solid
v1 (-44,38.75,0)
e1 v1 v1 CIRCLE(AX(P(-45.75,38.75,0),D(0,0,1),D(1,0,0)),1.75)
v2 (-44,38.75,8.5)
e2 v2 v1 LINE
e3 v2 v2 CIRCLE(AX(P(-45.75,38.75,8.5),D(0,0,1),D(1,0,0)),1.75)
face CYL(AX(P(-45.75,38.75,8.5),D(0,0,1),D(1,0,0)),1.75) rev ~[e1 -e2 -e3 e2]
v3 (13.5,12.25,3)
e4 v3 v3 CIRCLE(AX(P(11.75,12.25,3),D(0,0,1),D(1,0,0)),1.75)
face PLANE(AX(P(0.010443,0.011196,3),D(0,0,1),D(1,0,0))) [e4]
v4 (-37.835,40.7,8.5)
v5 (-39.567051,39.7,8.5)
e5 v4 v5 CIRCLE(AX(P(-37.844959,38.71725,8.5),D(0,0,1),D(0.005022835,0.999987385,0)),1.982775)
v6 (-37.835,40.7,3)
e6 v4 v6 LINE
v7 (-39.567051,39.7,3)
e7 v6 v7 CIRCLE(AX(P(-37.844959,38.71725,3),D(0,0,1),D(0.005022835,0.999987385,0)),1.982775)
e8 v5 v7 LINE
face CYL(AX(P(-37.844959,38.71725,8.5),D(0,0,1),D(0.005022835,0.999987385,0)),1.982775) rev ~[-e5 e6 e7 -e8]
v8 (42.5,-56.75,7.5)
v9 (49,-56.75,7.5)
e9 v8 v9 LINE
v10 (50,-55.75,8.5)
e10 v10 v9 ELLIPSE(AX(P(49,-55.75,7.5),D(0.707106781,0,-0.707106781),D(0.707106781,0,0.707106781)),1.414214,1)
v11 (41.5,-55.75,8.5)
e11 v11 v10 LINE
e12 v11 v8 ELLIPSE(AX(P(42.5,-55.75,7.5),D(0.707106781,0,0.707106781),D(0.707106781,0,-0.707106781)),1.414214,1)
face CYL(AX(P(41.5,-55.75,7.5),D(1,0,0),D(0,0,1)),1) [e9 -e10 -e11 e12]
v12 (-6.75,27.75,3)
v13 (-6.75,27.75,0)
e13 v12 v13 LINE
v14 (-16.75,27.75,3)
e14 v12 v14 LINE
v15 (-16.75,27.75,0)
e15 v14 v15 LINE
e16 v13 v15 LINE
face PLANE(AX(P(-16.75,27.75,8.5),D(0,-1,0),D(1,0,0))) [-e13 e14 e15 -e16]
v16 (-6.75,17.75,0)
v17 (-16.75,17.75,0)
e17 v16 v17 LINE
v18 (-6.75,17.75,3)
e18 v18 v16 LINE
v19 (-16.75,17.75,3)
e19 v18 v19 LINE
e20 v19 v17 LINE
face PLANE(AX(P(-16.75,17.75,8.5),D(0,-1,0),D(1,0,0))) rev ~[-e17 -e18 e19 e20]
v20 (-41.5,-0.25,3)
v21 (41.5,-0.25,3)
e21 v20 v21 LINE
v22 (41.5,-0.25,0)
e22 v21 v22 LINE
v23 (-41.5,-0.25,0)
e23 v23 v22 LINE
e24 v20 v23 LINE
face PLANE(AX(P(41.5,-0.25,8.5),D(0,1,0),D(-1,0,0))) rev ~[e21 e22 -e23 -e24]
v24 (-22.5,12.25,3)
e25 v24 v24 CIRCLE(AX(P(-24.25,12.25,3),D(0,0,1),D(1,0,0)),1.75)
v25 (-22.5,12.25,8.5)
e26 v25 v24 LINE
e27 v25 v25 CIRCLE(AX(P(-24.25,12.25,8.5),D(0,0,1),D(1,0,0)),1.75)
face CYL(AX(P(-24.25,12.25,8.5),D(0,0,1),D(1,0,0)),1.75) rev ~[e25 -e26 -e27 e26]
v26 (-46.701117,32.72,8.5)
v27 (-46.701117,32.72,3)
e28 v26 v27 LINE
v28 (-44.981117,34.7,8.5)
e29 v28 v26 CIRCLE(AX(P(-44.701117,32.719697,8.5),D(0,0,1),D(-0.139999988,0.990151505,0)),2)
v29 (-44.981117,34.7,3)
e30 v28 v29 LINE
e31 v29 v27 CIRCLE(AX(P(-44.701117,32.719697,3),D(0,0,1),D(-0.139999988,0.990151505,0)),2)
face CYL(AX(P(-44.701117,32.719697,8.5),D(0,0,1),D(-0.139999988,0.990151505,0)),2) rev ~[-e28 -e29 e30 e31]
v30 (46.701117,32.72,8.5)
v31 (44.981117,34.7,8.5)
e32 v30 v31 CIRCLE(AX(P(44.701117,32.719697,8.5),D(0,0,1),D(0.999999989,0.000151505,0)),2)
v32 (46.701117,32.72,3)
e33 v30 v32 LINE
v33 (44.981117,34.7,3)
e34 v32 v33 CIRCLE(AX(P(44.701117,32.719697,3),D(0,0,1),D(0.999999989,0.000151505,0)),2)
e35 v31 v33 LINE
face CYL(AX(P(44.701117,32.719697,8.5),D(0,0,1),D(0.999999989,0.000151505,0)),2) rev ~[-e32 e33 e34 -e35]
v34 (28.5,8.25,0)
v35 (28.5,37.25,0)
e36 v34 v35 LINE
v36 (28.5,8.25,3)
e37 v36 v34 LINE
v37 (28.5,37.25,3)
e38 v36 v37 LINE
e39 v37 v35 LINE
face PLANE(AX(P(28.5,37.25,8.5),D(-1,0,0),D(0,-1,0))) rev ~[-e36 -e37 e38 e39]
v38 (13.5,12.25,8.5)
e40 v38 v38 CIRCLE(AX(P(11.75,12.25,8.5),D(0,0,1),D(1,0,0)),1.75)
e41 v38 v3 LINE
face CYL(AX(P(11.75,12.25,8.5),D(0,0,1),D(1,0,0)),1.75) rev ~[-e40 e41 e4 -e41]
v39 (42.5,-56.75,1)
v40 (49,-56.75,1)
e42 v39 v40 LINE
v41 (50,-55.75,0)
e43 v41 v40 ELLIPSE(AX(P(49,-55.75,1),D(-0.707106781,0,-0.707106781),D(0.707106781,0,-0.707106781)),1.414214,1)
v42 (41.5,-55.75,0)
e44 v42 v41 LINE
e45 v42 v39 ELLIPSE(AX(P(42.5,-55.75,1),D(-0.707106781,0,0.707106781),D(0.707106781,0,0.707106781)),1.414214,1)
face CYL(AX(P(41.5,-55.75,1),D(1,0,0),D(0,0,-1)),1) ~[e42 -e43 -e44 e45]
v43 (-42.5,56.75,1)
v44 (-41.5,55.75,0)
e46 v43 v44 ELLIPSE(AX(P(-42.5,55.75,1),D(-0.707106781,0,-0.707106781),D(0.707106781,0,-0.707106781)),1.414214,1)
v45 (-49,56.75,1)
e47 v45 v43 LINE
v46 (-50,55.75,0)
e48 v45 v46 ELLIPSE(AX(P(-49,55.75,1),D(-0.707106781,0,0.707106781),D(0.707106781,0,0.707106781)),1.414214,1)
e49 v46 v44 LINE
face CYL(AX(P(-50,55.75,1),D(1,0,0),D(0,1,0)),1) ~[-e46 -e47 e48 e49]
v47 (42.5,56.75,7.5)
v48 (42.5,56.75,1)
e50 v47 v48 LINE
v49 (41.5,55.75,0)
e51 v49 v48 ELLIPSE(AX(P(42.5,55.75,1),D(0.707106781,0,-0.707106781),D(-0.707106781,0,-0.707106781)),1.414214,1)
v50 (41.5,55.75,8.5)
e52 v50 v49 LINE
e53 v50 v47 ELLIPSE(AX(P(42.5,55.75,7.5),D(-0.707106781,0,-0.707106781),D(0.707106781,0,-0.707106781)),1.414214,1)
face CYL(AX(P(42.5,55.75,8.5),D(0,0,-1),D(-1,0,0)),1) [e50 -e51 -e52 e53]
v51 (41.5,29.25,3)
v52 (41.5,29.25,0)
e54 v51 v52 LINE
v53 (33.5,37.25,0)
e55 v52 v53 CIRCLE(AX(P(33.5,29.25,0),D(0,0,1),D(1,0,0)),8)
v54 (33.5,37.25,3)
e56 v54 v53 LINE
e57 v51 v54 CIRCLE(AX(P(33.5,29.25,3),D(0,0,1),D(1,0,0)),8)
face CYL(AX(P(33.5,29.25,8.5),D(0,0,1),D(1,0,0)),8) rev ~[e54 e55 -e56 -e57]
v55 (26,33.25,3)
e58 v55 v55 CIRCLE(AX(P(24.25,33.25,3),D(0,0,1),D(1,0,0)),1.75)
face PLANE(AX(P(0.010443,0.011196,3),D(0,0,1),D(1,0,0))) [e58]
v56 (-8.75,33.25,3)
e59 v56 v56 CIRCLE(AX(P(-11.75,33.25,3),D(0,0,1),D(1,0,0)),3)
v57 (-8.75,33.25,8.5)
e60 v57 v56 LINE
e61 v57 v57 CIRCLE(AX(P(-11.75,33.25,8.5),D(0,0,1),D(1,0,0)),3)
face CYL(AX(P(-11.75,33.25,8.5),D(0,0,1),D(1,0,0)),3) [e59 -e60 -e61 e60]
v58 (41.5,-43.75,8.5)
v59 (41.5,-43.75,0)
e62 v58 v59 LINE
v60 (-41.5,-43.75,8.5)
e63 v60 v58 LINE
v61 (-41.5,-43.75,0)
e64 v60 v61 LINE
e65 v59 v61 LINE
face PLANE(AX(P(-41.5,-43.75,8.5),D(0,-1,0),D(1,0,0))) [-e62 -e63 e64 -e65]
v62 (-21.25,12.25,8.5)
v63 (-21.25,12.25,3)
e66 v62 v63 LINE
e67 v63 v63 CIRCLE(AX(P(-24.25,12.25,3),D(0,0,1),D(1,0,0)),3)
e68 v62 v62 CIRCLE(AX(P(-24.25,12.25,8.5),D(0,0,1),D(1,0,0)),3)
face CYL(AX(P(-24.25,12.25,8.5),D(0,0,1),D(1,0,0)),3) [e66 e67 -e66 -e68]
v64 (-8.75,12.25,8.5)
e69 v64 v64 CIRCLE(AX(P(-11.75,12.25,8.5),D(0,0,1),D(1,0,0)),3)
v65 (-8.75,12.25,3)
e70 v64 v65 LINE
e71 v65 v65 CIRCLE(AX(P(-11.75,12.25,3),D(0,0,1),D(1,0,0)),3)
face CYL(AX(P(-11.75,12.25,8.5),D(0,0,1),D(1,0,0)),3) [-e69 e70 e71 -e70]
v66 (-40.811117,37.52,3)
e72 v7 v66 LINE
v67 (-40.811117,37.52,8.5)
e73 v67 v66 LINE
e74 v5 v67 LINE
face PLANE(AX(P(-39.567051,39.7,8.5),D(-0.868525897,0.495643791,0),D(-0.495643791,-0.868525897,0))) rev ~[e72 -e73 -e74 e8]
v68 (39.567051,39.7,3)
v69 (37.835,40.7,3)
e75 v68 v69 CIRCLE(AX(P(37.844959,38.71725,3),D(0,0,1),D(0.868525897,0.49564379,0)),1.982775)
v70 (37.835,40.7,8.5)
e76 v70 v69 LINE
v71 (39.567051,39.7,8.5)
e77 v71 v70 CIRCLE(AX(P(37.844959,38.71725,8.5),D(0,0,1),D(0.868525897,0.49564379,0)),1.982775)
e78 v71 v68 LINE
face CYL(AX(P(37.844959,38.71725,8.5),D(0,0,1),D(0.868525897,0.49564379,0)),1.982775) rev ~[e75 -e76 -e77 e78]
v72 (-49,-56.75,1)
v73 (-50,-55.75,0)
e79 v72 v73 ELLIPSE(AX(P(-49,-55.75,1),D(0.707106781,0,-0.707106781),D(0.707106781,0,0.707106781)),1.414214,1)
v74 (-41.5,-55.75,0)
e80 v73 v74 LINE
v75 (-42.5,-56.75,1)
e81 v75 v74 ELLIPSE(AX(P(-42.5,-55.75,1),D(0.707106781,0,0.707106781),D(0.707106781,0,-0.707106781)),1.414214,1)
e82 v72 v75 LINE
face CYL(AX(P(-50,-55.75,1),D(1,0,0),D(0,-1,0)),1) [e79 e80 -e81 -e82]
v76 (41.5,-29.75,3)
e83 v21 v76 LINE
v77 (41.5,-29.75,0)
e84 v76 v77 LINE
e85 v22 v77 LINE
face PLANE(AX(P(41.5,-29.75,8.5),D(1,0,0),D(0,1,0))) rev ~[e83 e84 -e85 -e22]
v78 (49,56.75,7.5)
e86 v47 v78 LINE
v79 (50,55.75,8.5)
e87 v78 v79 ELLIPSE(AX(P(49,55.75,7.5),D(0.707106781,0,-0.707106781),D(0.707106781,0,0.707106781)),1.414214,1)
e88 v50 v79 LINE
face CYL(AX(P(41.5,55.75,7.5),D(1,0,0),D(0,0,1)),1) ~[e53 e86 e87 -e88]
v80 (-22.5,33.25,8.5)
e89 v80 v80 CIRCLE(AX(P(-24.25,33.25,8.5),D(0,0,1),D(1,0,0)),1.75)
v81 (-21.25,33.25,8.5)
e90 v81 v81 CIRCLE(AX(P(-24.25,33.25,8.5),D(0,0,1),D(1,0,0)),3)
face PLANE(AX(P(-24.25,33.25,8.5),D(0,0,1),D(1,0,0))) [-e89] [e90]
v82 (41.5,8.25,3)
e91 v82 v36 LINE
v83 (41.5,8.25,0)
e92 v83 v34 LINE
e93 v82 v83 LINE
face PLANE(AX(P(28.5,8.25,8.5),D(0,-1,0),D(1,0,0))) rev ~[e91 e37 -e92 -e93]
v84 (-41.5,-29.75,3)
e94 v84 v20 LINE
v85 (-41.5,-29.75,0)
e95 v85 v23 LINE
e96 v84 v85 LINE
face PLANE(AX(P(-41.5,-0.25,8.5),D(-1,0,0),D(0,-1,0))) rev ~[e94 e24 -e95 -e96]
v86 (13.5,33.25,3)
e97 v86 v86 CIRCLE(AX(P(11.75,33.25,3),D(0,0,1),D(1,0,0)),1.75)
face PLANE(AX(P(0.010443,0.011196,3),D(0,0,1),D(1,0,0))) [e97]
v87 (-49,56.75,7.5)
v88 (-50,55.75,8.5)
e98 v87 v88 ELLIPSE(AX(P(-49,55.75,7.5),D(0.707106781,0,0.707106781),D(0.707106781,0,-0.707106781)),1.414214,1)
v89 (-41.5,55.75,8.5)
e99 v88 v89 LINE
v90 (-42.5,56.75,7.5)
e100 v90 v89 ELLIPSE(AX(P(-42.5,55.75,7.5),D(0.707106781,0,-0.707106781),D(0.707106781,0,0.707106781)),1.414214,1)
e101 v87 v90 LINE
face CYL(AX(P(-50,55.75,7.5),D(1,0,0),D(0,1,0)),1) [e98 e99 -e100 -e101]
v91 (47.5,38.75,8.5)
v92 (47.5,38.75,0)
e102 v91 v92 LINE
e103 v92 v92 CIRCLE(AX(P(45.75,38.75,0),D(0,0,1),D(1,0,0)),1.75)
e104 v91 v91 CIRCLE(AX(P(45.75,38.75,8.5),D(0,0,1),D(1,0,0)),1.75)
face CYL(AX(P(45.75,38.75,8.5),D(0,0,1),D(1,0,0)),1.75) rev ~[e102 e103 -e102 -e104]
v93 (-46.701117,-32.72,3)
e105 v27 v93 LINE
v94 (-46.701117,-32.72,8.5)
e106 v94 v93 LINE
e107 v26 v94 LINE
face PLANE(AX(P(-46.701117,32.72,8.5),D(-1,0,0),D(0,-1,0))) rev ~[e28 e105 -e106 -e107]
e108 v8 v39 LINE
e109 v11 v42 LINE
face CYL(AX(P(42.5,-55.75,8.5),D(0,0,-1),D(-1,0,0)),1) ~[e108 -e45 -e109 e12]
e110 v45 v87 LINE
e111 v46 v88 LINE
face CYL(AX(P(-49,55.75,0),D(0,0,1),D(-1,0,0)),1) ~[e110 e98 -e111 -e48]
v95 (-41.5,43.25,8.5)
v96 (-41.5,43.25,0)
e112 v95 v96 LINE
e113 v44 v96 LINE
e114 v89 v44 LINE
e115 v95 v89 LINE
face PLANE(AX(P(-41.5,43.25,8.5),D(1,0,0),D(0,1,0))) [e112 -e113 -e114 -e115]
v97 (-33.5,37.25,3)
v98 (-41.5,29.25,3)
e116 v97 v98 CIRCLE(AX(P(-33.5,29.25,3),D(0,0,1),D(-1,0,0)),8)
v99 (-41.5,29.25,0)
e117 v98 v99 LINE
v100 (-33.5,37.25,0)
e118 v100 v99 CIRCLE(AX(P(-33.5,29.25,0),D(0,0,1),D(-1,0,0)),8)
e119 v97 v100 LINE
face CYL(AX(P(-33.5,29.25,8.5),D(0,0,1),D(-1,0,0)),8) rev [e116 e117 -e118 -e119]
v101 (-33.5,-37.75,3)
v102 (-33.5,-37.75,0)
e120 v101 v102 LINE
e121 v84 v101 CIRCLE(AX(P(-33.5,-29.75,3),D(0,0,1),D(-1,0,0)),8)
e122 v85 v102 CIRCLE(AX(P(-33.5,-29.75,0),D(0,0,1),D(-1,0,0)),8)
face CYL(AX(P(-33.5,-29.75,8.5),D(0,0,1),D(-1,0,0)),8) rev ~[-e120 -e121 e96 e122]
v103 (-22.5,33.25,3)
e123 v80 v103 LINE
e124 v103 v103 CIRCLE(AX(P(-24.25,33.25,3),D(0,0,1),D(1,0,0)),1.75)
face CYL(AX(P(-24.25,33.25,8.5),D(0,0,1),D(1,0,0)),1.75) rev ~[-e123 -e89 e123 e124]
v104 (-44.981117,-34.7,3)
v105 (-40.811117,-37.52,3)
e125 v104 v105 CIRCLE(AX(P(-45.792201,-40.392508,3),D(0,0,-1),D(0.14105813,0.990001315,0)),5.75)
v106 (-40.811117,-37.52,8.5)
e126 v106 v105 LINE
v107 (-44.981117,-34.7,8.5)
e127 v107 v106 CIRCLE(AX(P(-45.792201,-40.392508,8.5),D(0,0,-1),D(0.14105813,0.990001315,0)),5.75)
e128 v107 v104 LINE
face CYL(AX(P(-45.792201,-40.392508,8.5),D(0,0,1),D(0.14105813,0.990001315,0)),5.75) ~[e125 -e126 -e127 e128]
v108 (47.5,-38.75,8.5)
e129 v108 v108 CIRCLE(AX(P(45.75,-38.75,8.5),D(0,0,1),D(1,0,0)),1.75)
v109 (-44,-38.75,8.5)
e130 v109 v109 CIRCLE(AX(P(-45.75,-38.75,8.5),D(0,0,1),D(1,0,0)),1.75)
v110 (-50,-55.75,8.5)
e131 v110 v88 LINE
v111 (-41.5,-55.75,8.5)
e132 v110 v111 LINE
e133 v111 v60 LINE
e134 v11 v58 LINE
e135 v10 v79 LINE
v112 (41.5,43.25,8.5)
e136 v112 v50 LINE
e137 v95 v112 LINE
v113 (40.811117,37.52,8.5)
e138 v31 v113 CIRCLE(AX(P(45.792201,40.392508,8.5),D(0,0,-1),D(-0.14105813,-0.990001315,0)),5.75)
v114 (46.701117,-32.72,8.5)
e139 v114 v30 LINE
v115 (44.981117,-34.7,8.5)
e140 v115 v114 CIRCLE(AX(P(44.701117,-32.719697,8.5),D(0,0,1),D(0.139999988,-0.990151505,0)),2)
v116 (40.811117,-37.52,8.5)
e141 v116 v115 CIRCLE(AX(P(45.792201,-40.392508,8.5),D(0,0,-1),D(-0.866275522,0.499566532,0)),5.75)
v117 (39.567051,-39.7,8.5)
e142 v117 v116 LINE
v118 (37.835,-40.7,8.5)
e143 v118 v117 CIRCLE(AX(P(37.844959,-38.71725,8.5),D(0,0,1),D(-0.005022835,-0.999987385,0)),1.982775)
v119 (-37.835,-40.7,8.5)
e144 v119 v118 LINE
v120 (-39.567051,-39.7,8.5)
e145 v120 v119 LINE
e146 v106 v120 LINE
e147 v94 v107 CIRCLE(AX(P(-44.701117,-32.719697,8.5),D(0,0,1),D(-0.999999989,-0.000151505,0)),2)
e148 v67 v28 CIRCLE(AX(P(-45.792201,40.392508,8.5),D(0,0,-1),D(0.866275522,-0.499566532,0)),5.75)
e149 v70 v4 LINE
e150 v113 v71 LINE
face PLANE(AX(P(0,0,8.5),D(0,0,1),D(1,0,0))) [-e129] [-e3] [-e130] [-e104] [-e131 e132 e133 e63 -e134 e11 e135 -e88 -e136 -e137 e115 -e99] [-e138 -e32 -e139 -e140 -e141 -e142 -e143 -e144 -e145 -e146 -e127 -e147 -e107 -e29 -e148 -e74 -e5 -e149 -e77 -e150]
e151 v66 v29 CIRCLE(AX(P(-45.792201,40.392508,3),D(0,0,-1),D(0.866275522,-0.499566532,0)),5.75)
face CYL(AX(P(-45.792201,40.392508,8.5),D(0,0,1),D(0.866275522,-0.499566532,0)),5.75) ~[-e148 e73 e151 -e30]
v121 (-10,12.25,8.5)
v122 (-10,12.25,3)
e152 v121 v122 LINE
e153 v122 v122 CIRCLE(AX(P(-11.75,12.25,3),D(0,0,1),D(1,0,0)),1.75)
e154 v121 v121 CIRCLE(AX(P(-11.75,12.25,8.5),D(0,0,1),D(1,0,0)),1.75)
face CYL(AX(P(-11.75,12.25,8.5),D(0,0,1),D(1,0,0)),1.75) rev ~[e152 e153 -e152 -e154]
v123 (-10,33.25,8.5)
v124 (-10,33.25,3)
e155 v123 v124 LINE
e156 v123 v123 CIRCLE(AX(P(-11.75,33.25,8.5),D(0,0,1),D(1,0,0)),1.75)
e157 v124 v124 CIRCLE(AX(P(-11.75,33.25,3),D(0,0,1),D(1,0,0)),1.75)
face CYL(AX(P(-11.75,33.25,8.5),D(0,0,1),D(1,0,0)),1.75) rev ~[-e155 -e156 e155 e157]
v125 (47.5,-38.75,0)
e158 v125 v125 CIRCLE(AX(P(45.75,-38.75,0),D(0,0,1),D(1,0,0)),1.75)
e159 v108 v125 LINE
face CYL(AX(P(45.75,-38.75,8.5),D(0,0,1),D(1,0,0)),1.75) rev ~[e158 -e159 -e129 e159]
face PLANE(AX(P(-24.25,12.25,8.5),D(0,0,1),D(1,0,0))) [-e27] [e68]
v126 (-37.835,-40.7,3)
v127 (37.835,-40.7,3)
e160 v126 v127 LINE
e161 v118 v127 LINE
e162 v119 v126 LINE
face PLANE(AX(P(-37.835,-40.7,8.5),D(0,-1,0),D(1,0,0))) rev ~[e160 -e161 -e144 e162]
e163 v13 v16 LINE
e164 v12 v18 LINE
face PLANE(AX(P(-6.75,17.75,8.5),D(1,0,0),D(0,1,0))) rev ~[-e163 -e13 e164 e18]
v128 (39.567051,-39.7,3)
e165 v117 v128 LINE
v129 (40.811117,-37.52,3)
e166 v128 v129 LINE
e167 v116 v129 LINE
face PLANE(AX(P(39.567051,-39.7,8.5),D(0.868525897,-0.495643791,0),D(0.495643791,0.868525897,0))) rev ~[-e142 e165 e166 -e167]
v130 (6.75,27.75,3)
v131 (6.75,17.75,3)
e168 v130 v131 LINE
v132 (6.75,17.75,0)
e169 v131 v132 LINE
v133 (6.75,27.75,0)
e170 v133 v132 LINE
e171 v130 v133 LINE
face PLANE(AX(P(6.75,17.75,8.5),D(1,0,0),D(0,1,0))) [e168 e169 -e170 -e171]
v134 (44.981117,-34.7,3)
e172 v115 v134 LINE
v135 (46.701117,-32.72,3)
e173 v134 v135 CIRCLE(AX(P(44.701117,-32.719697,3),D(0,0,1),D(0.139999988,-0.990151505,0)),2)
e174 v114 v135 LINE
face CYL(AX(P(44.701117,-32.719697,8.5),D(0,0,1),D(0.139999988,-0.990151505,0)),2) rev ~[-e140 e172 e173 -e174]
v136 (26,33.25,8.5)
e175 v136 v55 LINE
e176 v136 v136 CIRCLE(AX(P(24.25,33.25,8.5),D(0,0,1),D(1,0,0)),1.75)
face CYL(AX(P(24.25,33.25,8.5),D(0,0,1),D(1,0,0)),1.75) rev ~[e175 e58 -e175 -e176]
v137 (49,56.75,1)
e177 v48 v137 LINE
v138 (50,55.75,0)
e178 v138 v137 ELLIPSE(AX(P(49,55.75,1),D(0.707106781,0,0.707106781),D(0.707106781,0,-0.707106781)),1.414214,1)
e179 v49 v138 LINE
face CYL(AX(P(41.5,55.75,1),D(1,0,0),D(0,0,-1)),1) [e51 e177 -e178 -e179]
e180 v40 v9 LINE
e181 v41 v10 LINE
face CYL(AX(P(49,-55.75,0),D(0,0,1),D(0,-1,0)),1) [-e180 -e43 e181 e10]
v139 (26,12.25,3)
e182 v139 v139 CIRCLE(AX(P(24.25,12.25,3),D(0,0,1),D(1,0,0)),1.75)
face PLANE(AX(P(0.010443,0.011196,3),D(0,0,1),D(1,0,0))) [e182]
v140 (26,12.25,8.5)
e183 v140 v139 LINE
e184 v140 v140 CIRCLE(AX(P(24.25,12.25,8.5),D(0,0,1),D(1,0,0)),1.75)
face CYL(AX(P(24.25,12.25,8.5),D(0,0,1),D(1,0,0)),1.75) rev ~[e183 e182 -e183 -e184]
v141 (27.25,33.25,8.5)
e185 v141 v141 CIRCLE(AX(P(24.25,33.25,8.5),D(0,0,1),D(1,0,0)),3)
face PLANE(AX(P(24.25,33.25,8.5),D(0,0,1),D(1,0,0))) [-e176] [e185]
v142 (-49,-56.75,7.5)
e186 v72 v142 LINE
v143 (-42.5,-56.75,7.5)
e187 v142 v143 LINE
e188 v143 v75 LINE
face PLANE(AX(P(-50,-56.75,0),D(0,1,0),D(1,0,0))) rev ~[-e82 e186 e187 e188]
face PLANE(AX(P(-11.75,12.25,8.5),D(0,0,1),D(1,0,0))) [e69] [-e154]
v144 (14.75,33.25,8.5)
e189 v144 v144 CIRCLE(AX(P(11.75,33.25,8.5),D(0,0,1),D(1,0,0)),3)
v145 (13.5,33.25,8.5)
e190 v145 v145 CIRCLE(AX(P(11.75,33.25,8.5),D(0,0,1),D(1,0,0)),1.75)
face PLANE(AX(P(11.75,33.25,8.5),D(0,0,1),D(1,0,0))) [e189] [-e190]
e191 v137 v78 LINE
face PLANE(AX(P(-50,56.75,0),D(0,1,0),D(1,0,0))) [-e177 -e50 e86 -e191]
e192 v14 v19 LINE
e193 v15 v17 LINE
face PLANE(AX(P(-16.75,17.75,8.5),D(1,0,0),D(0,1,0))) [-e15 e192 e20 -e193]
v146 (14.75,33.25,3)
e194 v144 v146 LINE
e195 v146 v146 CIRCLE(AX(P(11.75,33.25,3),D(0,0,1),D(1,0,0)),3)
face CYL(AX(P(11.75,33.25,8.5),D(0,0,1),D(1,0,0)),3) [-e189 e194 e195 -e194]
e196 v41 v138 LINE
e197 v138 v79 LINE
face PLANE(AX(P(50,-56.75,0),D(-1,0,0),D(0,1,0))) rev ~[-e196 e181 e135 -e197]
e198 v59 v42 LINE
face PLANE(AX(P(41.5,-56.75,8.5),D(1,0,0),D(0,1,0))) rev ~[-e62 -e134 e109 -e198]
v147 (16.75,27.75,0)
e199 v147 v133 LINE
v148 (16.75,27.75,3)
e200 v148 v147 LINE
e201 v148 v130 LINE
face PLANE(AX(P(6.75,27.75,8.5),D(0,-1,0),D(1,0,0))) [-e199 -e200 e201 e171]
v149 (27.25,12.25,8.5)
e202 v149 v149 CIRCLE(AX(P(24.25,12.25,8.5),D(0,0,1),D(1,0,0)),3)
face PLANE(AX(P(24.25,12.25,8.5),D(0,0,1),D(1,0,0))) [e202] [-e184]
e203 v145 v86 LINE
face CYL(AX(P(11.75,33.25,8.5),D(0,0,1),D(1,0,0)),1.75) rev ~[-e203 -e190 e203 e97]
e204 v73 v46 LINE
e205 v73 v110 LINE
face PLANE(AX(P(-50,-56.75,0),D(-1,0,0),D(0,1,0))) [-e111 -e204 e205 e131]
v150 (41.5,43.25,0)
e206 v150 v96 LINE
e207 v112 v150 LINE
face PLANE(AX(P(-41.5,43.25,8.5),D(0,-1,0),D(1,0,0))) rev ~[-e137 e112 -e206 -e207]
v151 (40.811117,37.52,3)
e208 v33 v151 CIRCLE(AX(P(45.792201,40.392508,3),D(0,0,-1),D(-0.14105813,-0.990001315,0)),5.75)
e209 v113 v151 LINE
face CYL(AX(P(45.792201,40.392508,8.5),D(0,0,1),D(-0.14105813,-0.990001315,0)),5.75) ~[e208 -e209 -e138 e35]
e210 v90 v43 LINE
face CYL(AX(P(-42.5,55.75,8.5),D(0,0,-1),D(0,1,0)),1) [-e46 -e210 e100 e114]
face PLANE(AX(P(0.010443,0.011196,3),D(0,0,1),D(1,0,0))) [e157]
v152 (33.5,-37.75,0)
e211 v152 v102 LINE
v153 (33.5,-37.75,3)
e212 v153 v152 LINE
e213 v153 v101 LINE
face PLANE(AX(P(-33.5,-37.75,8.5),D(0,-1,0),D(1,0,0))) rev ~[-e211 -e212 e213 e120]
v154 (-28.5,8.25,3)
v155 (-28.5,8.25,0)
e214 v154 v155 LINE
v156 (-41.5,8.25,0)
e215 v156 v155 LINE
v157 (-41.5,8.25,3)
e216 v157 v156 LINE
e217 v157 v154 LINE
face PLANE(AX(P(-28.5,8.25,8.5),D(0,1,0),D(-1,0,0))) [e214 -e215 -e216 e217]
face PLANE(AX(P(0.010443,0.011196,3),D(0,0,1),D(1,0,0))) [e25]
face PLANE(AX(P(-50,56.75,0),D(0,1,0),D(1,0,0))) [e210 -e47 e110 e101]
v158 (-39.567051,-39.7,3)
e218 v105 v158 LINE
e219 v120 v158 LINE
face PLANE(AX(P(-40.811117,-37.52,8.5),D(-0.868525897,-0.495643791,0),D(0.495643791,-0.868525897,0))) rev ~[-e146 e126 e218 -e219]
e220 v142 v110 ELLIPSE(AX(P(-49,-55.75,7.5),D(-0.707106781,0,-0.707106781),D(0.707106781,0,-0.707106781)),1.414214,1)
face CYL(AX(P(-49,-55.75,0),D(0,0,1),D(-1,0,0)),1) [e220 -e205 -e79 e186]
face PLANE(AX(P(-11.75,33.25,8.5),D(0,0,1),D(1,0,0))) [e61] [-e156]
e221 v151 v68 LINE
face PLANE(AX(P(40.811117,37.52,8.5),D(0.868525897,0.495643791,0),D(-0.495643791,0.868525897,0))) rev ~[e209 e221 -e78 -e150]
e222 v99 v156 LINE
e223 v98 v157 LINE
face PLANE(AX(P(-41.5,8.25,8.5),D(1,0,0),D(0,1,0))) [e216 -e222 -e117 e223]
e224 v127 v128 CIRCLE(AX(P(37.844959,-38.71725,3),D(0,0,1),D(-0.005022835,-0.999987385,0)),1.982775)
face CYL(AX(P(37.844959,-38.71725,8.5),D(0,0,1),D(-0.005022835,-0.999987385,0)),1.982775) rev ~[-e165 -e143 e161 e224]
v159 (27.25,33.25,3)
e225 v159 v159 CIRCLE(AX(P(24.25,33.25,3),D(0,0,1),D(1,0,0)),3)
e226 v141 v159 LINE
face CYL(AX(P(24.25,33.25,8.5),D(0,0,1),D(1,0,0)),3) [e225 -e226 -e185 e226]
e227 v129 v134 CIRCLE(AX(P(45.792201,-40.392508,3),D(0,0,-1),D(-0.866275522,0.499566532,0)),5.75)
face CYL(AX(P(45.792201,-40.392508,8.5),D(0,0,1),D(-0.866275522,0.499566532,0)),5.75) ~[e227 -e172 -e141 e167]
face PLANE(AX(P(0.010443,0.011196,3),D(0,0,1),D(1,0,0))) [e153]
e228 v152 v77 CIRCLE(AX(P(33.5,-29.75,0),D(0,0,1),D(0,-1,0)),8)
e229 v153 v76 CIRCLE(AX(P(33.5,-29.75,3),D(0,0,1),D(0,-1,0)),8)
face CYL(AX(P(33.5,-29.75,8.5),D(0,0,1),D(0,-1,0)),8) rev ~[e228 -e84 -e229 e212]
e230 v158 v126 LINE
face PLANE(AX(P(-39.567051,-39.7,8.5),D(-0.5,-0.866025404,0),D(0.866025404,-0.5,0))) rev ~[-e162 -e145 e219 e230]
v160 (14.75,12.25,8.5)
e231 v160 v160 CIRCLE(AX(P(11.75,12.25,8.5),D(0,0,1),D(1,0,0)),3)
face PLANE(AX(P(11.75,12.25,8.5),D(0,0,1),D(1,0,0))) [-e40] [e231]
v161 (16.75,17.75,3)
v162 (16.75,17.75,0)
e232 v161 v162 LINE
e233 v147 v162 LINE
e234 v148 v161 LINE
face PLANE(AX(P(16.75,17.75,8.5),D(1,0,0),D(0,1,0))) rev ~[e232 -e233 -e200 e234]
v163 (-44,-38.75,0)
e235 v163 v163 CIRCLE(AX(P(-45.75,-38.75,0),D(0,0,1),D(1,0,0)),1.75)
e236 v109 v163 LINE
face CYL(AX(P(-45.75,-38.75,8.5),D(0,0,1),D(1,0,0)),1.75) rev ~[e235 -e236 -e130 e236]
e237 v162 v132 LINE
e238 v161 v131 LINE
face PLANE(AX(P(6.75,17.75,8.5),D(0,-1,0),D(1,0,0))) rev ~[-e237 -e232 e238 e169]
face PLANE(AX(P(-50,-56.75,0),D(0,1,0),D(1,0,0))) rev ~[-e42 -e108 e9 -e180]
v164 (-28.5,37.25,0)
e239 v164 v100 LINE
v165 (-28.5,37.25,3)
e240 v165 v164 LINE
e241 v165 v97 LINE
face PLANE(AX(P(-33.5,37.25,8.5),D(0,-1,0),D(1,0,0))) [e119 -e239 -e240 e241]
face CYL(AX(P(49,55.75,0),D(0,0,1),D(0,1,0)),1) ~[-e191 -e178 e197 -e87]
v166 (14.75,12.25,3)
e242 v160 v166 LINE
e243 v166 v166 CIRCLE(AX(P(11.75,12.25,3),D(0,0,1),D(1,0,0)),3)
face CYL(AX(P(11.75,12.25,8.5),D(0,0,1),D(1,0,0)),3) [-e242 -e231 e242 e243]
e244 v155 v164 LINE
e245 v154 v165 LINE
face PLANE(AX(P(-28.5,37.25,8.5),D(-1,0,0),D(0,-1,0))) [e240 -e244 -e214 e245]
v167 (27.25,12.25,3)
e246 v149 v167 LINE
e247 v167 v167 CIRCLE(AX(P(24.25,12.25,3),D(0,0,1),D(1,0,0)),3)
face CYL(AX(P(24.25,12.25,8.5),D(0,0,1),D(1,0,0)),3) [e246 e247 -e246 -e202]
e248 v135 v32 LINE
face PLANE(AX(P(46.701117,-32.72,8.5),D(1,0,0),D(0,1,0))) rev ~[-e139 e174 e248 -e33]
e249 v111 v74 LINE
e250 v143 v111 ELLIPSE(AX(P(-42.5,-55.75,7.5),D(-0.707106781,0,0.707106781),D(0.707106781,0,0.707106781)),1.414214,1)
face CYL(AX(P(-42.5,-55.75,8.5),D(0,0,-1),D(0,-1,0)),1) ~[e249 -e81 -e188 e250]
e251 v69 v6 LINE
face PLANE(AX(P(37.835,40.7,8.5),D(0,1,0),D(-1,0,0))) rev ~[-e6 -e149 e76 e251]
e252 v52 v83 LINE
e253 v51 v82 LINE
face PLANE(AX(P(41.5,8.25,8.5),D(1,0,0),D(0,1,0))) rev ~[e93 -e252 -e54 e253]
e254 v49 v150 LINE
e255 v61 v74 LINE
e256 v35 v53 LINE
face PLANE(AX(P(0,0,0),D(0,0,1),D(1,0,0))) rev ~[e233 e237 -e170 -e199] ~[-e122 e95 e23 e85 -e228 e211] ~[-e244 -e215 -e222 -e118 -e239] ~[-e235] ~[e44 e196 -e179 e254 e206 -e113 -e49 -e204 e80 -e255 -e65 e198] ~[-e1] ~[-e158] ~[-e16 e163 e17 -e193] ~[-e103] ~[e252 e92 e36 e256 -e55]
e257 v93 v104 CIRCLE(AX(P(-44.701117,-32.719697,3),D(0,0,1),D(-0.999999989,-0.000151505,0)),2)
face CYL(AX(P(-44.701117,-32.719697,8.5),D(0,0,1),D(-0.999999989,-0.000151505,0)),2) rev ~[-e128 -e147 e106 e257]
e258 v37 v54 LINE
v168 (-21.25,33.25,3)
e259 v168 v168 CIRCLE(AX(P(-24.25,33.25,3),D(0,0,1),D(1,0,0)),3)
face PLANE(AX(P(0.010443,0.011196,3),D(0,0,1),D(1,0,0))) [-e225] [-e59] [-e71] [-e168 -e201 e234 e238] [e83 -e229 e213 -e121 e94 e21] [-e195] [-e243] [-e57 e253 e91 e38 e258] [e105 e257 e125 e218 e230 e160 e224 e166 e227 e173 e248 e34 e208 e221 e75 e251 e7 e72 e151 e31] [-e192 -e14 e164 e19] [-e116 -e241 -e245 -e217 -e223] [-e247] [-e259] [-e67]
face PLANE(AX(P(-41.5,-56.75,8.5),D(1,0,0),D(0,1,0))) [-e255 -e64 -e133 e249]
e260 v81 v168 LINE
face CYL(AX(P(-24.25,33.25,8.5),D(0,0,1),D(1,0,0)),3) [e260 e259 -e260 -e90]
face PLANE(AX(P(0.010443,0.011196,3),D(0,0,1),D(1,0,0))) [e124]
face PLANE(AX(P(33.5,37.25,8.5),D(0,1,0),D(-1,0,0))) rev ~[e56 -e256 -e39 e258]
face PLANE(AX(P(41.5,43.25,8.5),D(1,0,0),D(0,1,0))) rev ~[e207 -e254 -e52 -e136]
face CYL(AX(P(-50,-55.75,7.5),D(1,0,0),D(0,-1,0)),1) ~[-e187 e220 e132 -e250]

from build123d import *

# Parameters (mm, degrees)
SKETCH1_W           = 100
SKETCH1_H           = 113.5
BOSS_EXTRUDE1_DEPTH = 8.5
CUT_EXTRUDE1_REACH  = 78.111
SKETCH2_W           = 83
SKETCH2_H           = 13.5
SKETCH2_H_2         = 13
SKETCH2_W_2         = 10
SKETCH2_H_3         = 10
SKETCH2_R           = 1.75
CUT_EXTRUDE2_REACH  = 78.111
SKETCH6_W           = 10
SKETCH6_H           = 10
CUT_EXTRUDE4_DEPTH  = 5.5
SKETCH7_R           = 3
SKETCH7_R_2         = 1.75
BOSS_EXTRUDE3_DEPTH = 5.5
FILLET1_R           = 1


with BuildPart() as part:
    # Sketch1 → Boss-Extrude1 (new body)
    with BuildSketch(Plane.XY):
        Rectangle(SKETCH1_W, SKETCH1_H)
    extrude(amount=BOSS_EXTRUDE1_DEPTH)

    # Sketch2 → Cut-Extrude1 (cut, up to next)
    with BuildSketch(Plane.XY.offset(8.5), mode=Mode.PRIVATE) as cut_extrude1_sk1:
        with Locations((0, 50)):
            Rectangle(SKETCH2_W, SKETCH2_H)
    cut_extrude1_tool1 = extrude(cut_extrude1_sk1.sketch, amount=-CUT_EXTRUDE1_REACH, mode=Mode.PRIVATE) & part.part
    # Sketch2 → Cut-Extrude1 (cut, up to next)
    with BuildSketch(Plane.XY.offset(8.5), mode=Mode.PRIVATE) as cut_extrude1_sk2:
        with BuildLine():
            ThreePointArc((-41.5, -29.75), (-39.156854249, -35.406854249), (-33.5, -37.75))
            Line((-33.5, -37.75), (33.5, -37.75))
            ThreePointArc((33.5, -37.75), (39.156854249, -35.406854249), (41.5, -29.75))
            Line((41.5, -29.75), (41.5, -0.25))
            Line((41.5, -0.25), (-41.5, -0.25))
            Line((-41.5, -0.25), (-41.5, -29.75))
        make_face()
    cut_extrude1_tool2 = extrude(cut_extrude1_sk2.sketch, amount=-CUT_EXTRUDE1_REACH, mode=Mode.PRIVATE) & part.part
    # Sketch2 → Cut-Extrude1 (cut, up to next)
    with BuildSketch(Plane.XY.offset(8.5), mode=Mode.PRIVATE) as cut_extrude1_sk3:
        with Locations((0, -50.25)):
            Rectangle(SKETCH2_W, SKETCH2_H_2)
    cut_extrude1_tool3 = extrude(cut_extrude1_sk3.sketch, amount=-CUT_EXTRUDE1_REACH, mode=Mode.PRIVATE) & part.part
    # Sketch2 → Cut-Extrude1 (cut, up to next)
    with BuildSketch(Plane.XY.offset(8.5), mode=Mode.PRIVATE) as cut_extrude1_sk4:
        with Locations((-11.75, 22.75)):
            Rectangle(SKETCH2_W_2, SKETCH2_H_3)
    cut_extrude1_tool4 = extrude(cut_extrude1_sk4.sketch, amount=-CUT_EXTRUDE1_REACH, mode=Mode.PRIVATE) & part.part
    # Sketch2 → Cut-Extrude1 (cut, up to next)
    with BuildSketch(Plane.XY.offset(8.5), mode=Mode.PRIVATE) as cut_extrude1_sk5:
        with Locations((45.75, 38.75)):
            Circle(SKETCH2_R)
    cut_extrude1_tool5 = extrude(cut_extrude1_sk5.sketch, amount=-CUT_EXTRUDE1_REACH, mode=Mode.PRIVATE) & part.part
    # Sketch2 → Cut-Extrude1 (cut, up to next)
    with BuildSketch(Plane.XY.offset(8.5), mode=Mode.PRIVATE) as cut_extrude1_sk6:
        with Locations((45.75, -38.75)):
            Circle(SKETCH2_R)
    cut_extrude1_tool6 = extrude(cut_extrude1_sk6.sketch, amount=-CUT_EXTRUDE1_REACH, mode=Mode.PRIVATE) & part.part
    # Sketch2 → Cut-Extrude1 (cut, up to next)
    with BuildSketch(Plane.XY.offset(8.5), mode=Mode.PRIVATE) as cut_extrude1_sk7:
        with Locations((-45.75, 38.75)):
            Circle(SKETCH2_R)
    cut_extrude1_tool7 = extrude(cut_extrude1_sk7.sketch, amount=-CUT_EXTRUDE1_REACH, mode=Mode.PRIVATE) & part.part
    # Sketch2 → Cut-Extrude1 (cut, up to next)
    with BuildSketch(Plane.XY.offset(8.5), mode=Mode.PRIVATE) as cut_extrude1_sk8:
        with Locations((-45.75, -38.75)):
            Circle(SKETCH2_R)
    cut_extrude1_tool8 = extrude(cut_extrude1_sk8.sketch, amount=-CUT_EXTRUDE1_REACH, mode=Mode.PRIVATE) & part.part
    add(cut_extrude1_tool1.solids().sort_by_distance((0, 50, 8.5))[0], mode=Mode.SUBTRACT)
    add(cut_extrude1_tool2.solids().sort_by_distance((0, -18.848961, 8.5))[0], mode=Mode.SUBTRACT)
    add(cut_extrude1_tool3.solids().sort_by_distance((0, -50.25, 8.5))[0], mode=Mode.SUBTRACT)
    add(cut_extrude1_tool4.solids().sort_by_distance((-11.75, 22.75, 8.5))[0], mode=Mode.SUBTRACT)
    add(cut_extrude1_tool5.solids().sort_by_distance((45.75, 38.75, 8.5))[0], mode=Mode.SUBTRACT)
    add(cut_extrude1_tool6.solids().sort_by_distance((45.75, -38.75, 8.5))[0], mode=Mode.SUBTRACT)
    add(cut_extrude1_tool7.solids().sort_by_distance((-45.75, 38.75, 8.5))[0], mode=Mode.SUBTRACT)
    add(cut_extrude1_tool8.solids().sort_by_distance((-45.75, -38.75, 8.5))[0], mode=Mode.SUBTRACT)

    # Sketch6 → Cut-Extrude2 (cut, up to next)
    with BuildSketch(Plane.XY.offset(8.5), mode=Mode.PRIVATE) as cut_extrude2_sk1:
        with BuildLine():
            Line((41.5, 8.25), (41.5, 29.25))
            ThreePointArc((41.5, 29.25), (39.156854249, 34.906854249), (33.5, 37.25))
            Line((33.5, 37.25), (28.5, 37.25))
            Line((28.5, 37.25), (28.5, 8.25))
            Line((28.5, 8.25), (33.5, 8.25))
            Line((33.5, 8.25), (41.5, 8.25))
        make_face()
    cut_extrude2_tool1 = extrude(cut_extrude2_sk1.sketch, amount=-CUT_EXTRUDE2_REACH, mode=Mode.PRIVATE) & part.part
    # Sketch6 → Cut-Extrude2 (cut, up to next)
    with BuildSketch(Plane.XY.offset(8.5), mode=Mode.PRIVATE) as cut_extrude2_sk2:
        with Locations((11.75, 22.75)):
            Rectangle(SKETCH6_W, SKETCH6_H)
    cut_extrude2_tool2 = extrude(cut_extrude2_sk2.sketch, amount=-CUT_EXTRUDE2_REACH, mode=Mode.PRIVATE) & part.part
    # Sketch6 → Cut-Extrude2 (cut, up to next)
    with BuildSketch(Plane.XY.offset(8.5), mode=Mode.PRIVATE) as cut_extrude2_sk3:
        with BuildLine():
            Line((-41.5, 8.25), (-41.5, 29.25))
            ThreePointArc((-41.5, 29.25), (-39.156854249, 34.906854249), (-33.5, 37.25))
            Line((-33.5, 37.25), (-28.5, 37.25))
            Line((-28.5, 37.25), (-28.5, 8.25))
            Line((-28.5, 8.25), (-33.5, 8.25))
            Line((-33.5, 8.25), (-41.5, 8.25))
        make_face()
    cut_extrude2_tool3 = extrude(cut_extrude2_sk3.sketch, amount=-CUT_EXTRUDE2_REACH, mode=Mode.PRIVATE) & part.part
    add(cut_extrude2_tool1.solids().sort_by_distance((34.821806, 22.269339, 8.5))[0], mode=Mode.SUBTRACT)
    add(cut_extrude2_tool2.solids().sort_by_distance((11.75, 22.75, 8.5))[0], mode=Mode.SUBTRACT)
    add(cut_extrude2_tool3.solids().sort_by_distance((-34.821806, 22.269339, 8.5))[0], mode=Mode.SUBTRACT)

    # Sketch8 → Cut-Extrude4 (cut)
    with BuildSketch(Plane.XY.offset(8.5)):
        with BuildLine():
            Line((-37.835, -40.7), (37.835, -40.7))
            ThreePointArc((37.835, -40.7), (38.836346779, -40.434383498), (39.567050808, -39.7))
            Line((39.567050808, -39.7), (40.811116722, -37.52))
            ThreePointArc((40.811116722, -37.52), (42.571113581, -35.629410248), (44.981116722, -34.7))
            ThreePointArc((44.981116722, -34.7), (46.210984272, -34.031299083), (46.701116722, -32.72))
            Line((46.701116722, -32.72), (46.701116722, 32.72))
            ThreePointArc((46.701116722, 32.72), (46.210984272, 34.031299083), (44.981116722, 34.7))
            ThreePointArc((44.981116722, 34.7), (42.571113581, 35.629410248), (40.811116722, 37.52))
            Line((40.811116722, 37.52), (39.567050808, 39.7))
            ThreePointArc((39.567050808, 39.7), (38.836346779, 40.434383498), (37.835, 40.7))
            Line((37.835, 40.7), (-37.835, 40.7))
            ThreePointArc((-37.835, 40.7), (-38.836346779, 40.434383498), (-39.567050808, 39.7))
            Line((-39.567050808, 39.7), (-40.811116722, 37.52))
            ThreePointArc((-40.811116722, 37.52), (-42.571113581, 35.629410248), (-44.981116722, 34.7))
            ThreePointArc((-44.981116722, 34.7), (-46.210984272, 34.031299083), (-46.701116722, 32.72))
            Line((-46.701116722, 32.72), (-46.701116722, -32.72))
            ThreePointArc((-46.701116722, -32.72), (-46.210984272, -34.031299083), (-44.981116722, -34.7))
            ThreePointArc((-44.981116722, -34.7), (-42.571113581, -35.629410248), (-40.811116722, -37.52))
            Line((-40.811116722, -37.52), (-39.567050808, -39.7))
            Line((-39.567050808, -39.7), (-37.835, -40.7))
        make_face()
    extrude(amount=-CUT_EXTRUDE4_DEPTH, mode=Mode.SUBTRACT)

    # Sketch7 → Boss-Extrude3 (add)
    # profile 1 of 8: a face of its own
    with BuildSketch(Plane.XY.offset(8.5)):
        with Locations((-24.25, 33.25)):
            Circle(SKETCH7_R)
        with Locations((-24.25, 33.25)):
            Circle(SKETCH7_R_2, mode=Mode.SUBTRACT)
    # profile 2 of 8: a face of its own
    with BuildSketch(Plane.XY.offset(8.5)):
        with Locations((-24.25, 12.25)):
            Circle(SKETCH7_R)
        with Locations((-24.25, 12.25)):
            Circle(SKETCH7_R_2, mode=Mode.SUBTRACT)
    # profile 3 of 8: a face of its own
    with BuildSketch(Plane.XY.offset(8.5)):
        with Locations((-11.75, 12.25)):
            Circle(SKETCH7_R)
        with Locations((-11.75, 12.25)):
            Circle(SKETCH7_R_2, mode=Mode.SUBTRACT)
    # profile 4 of 8: a face of its own
    with BuildSketch(Plane.XY.offset(8.5)):
        with Locations((11.75, 33.25)):
            Circle(SKETCH7_R)
        with Locations((11.75, 33.25)):
            Circle(SKETCH7_R_2, mode=Mode.SUBTRACT)
    # profile 5 of 8: a face of its own
    with BuildSketch(Plane.XY.offset(8.5)):
        with Locations((24.25, 33.25)):
            Circle(SKETCH7_R)
        with Locations((24.25, 33.25)):
            Circle(SKETCH7_R_2, mode=Mode.SUBTRACT)
    # profile 6 of 8: a face of its own
    with BuildSketch(Plane.XY.offset(8.5)):
        with Locations((11.75, 12.25)):
            Circle(SKETCH7_R)
        with Locations((11.75, 12.25)):
            Circle(SKETCH7_R_2, mode=Mode.SUBTRACT)
    # profile 7 of 8: a face of its own
    with BuildSketch(Plane.XY.offset(8.5)):
        with Locations((24.25, 12.25)):
            Circle(SKETCH7_R)
        with Locations((24.25, 12.25)):
            Circle(SKETCH7_R_2, mode=Mode.SUBTRACT)
    # profile 8 of 8: a face of its own
    with BuildSketch(Plane.XY.offset(8.5)):
        with Locations((-11.75, 33.25)):
            Circle(SKETCH7_R)
        with Locations((-11.75, 33.25)):
            Circle(SKETCH7_R_2, mode=Mode.SUBTRACT)
    extrude(amount=-BOSS_EXTRUDE3_DEPTH)

    # Fillet1
    fillet1_edges = [part.edges().sort_by_distance(p)[0] for p in [
        (45.75, -56.75, 0),
        (-45.75, 56.75, 0),
        (-45.75, -56.75, 8.5),
        (-45.75, 56.75, 8.5),
        (45.75, -56.75, 8.5),
        (-41.5, 56.75, 4.25),
        (41.5, 56.75, 4.25),
        (41.5, -56.75, 4.25),
        (-41.5, -56.75, 4.25),
        (-45.75, -56.75, 0),
        (45.75, 56.75, 0),
        (50, -56.75, 4.25),
        (-50, -56.75, 4.25),
        (-50, 56.75, 4.25),
        (50, 56.75, 4.25),
        (45.75, 56.75, 8.5),
    ]]
    fillet(fillet1_edges, radius=FILLET1_R)


solid = part.part
